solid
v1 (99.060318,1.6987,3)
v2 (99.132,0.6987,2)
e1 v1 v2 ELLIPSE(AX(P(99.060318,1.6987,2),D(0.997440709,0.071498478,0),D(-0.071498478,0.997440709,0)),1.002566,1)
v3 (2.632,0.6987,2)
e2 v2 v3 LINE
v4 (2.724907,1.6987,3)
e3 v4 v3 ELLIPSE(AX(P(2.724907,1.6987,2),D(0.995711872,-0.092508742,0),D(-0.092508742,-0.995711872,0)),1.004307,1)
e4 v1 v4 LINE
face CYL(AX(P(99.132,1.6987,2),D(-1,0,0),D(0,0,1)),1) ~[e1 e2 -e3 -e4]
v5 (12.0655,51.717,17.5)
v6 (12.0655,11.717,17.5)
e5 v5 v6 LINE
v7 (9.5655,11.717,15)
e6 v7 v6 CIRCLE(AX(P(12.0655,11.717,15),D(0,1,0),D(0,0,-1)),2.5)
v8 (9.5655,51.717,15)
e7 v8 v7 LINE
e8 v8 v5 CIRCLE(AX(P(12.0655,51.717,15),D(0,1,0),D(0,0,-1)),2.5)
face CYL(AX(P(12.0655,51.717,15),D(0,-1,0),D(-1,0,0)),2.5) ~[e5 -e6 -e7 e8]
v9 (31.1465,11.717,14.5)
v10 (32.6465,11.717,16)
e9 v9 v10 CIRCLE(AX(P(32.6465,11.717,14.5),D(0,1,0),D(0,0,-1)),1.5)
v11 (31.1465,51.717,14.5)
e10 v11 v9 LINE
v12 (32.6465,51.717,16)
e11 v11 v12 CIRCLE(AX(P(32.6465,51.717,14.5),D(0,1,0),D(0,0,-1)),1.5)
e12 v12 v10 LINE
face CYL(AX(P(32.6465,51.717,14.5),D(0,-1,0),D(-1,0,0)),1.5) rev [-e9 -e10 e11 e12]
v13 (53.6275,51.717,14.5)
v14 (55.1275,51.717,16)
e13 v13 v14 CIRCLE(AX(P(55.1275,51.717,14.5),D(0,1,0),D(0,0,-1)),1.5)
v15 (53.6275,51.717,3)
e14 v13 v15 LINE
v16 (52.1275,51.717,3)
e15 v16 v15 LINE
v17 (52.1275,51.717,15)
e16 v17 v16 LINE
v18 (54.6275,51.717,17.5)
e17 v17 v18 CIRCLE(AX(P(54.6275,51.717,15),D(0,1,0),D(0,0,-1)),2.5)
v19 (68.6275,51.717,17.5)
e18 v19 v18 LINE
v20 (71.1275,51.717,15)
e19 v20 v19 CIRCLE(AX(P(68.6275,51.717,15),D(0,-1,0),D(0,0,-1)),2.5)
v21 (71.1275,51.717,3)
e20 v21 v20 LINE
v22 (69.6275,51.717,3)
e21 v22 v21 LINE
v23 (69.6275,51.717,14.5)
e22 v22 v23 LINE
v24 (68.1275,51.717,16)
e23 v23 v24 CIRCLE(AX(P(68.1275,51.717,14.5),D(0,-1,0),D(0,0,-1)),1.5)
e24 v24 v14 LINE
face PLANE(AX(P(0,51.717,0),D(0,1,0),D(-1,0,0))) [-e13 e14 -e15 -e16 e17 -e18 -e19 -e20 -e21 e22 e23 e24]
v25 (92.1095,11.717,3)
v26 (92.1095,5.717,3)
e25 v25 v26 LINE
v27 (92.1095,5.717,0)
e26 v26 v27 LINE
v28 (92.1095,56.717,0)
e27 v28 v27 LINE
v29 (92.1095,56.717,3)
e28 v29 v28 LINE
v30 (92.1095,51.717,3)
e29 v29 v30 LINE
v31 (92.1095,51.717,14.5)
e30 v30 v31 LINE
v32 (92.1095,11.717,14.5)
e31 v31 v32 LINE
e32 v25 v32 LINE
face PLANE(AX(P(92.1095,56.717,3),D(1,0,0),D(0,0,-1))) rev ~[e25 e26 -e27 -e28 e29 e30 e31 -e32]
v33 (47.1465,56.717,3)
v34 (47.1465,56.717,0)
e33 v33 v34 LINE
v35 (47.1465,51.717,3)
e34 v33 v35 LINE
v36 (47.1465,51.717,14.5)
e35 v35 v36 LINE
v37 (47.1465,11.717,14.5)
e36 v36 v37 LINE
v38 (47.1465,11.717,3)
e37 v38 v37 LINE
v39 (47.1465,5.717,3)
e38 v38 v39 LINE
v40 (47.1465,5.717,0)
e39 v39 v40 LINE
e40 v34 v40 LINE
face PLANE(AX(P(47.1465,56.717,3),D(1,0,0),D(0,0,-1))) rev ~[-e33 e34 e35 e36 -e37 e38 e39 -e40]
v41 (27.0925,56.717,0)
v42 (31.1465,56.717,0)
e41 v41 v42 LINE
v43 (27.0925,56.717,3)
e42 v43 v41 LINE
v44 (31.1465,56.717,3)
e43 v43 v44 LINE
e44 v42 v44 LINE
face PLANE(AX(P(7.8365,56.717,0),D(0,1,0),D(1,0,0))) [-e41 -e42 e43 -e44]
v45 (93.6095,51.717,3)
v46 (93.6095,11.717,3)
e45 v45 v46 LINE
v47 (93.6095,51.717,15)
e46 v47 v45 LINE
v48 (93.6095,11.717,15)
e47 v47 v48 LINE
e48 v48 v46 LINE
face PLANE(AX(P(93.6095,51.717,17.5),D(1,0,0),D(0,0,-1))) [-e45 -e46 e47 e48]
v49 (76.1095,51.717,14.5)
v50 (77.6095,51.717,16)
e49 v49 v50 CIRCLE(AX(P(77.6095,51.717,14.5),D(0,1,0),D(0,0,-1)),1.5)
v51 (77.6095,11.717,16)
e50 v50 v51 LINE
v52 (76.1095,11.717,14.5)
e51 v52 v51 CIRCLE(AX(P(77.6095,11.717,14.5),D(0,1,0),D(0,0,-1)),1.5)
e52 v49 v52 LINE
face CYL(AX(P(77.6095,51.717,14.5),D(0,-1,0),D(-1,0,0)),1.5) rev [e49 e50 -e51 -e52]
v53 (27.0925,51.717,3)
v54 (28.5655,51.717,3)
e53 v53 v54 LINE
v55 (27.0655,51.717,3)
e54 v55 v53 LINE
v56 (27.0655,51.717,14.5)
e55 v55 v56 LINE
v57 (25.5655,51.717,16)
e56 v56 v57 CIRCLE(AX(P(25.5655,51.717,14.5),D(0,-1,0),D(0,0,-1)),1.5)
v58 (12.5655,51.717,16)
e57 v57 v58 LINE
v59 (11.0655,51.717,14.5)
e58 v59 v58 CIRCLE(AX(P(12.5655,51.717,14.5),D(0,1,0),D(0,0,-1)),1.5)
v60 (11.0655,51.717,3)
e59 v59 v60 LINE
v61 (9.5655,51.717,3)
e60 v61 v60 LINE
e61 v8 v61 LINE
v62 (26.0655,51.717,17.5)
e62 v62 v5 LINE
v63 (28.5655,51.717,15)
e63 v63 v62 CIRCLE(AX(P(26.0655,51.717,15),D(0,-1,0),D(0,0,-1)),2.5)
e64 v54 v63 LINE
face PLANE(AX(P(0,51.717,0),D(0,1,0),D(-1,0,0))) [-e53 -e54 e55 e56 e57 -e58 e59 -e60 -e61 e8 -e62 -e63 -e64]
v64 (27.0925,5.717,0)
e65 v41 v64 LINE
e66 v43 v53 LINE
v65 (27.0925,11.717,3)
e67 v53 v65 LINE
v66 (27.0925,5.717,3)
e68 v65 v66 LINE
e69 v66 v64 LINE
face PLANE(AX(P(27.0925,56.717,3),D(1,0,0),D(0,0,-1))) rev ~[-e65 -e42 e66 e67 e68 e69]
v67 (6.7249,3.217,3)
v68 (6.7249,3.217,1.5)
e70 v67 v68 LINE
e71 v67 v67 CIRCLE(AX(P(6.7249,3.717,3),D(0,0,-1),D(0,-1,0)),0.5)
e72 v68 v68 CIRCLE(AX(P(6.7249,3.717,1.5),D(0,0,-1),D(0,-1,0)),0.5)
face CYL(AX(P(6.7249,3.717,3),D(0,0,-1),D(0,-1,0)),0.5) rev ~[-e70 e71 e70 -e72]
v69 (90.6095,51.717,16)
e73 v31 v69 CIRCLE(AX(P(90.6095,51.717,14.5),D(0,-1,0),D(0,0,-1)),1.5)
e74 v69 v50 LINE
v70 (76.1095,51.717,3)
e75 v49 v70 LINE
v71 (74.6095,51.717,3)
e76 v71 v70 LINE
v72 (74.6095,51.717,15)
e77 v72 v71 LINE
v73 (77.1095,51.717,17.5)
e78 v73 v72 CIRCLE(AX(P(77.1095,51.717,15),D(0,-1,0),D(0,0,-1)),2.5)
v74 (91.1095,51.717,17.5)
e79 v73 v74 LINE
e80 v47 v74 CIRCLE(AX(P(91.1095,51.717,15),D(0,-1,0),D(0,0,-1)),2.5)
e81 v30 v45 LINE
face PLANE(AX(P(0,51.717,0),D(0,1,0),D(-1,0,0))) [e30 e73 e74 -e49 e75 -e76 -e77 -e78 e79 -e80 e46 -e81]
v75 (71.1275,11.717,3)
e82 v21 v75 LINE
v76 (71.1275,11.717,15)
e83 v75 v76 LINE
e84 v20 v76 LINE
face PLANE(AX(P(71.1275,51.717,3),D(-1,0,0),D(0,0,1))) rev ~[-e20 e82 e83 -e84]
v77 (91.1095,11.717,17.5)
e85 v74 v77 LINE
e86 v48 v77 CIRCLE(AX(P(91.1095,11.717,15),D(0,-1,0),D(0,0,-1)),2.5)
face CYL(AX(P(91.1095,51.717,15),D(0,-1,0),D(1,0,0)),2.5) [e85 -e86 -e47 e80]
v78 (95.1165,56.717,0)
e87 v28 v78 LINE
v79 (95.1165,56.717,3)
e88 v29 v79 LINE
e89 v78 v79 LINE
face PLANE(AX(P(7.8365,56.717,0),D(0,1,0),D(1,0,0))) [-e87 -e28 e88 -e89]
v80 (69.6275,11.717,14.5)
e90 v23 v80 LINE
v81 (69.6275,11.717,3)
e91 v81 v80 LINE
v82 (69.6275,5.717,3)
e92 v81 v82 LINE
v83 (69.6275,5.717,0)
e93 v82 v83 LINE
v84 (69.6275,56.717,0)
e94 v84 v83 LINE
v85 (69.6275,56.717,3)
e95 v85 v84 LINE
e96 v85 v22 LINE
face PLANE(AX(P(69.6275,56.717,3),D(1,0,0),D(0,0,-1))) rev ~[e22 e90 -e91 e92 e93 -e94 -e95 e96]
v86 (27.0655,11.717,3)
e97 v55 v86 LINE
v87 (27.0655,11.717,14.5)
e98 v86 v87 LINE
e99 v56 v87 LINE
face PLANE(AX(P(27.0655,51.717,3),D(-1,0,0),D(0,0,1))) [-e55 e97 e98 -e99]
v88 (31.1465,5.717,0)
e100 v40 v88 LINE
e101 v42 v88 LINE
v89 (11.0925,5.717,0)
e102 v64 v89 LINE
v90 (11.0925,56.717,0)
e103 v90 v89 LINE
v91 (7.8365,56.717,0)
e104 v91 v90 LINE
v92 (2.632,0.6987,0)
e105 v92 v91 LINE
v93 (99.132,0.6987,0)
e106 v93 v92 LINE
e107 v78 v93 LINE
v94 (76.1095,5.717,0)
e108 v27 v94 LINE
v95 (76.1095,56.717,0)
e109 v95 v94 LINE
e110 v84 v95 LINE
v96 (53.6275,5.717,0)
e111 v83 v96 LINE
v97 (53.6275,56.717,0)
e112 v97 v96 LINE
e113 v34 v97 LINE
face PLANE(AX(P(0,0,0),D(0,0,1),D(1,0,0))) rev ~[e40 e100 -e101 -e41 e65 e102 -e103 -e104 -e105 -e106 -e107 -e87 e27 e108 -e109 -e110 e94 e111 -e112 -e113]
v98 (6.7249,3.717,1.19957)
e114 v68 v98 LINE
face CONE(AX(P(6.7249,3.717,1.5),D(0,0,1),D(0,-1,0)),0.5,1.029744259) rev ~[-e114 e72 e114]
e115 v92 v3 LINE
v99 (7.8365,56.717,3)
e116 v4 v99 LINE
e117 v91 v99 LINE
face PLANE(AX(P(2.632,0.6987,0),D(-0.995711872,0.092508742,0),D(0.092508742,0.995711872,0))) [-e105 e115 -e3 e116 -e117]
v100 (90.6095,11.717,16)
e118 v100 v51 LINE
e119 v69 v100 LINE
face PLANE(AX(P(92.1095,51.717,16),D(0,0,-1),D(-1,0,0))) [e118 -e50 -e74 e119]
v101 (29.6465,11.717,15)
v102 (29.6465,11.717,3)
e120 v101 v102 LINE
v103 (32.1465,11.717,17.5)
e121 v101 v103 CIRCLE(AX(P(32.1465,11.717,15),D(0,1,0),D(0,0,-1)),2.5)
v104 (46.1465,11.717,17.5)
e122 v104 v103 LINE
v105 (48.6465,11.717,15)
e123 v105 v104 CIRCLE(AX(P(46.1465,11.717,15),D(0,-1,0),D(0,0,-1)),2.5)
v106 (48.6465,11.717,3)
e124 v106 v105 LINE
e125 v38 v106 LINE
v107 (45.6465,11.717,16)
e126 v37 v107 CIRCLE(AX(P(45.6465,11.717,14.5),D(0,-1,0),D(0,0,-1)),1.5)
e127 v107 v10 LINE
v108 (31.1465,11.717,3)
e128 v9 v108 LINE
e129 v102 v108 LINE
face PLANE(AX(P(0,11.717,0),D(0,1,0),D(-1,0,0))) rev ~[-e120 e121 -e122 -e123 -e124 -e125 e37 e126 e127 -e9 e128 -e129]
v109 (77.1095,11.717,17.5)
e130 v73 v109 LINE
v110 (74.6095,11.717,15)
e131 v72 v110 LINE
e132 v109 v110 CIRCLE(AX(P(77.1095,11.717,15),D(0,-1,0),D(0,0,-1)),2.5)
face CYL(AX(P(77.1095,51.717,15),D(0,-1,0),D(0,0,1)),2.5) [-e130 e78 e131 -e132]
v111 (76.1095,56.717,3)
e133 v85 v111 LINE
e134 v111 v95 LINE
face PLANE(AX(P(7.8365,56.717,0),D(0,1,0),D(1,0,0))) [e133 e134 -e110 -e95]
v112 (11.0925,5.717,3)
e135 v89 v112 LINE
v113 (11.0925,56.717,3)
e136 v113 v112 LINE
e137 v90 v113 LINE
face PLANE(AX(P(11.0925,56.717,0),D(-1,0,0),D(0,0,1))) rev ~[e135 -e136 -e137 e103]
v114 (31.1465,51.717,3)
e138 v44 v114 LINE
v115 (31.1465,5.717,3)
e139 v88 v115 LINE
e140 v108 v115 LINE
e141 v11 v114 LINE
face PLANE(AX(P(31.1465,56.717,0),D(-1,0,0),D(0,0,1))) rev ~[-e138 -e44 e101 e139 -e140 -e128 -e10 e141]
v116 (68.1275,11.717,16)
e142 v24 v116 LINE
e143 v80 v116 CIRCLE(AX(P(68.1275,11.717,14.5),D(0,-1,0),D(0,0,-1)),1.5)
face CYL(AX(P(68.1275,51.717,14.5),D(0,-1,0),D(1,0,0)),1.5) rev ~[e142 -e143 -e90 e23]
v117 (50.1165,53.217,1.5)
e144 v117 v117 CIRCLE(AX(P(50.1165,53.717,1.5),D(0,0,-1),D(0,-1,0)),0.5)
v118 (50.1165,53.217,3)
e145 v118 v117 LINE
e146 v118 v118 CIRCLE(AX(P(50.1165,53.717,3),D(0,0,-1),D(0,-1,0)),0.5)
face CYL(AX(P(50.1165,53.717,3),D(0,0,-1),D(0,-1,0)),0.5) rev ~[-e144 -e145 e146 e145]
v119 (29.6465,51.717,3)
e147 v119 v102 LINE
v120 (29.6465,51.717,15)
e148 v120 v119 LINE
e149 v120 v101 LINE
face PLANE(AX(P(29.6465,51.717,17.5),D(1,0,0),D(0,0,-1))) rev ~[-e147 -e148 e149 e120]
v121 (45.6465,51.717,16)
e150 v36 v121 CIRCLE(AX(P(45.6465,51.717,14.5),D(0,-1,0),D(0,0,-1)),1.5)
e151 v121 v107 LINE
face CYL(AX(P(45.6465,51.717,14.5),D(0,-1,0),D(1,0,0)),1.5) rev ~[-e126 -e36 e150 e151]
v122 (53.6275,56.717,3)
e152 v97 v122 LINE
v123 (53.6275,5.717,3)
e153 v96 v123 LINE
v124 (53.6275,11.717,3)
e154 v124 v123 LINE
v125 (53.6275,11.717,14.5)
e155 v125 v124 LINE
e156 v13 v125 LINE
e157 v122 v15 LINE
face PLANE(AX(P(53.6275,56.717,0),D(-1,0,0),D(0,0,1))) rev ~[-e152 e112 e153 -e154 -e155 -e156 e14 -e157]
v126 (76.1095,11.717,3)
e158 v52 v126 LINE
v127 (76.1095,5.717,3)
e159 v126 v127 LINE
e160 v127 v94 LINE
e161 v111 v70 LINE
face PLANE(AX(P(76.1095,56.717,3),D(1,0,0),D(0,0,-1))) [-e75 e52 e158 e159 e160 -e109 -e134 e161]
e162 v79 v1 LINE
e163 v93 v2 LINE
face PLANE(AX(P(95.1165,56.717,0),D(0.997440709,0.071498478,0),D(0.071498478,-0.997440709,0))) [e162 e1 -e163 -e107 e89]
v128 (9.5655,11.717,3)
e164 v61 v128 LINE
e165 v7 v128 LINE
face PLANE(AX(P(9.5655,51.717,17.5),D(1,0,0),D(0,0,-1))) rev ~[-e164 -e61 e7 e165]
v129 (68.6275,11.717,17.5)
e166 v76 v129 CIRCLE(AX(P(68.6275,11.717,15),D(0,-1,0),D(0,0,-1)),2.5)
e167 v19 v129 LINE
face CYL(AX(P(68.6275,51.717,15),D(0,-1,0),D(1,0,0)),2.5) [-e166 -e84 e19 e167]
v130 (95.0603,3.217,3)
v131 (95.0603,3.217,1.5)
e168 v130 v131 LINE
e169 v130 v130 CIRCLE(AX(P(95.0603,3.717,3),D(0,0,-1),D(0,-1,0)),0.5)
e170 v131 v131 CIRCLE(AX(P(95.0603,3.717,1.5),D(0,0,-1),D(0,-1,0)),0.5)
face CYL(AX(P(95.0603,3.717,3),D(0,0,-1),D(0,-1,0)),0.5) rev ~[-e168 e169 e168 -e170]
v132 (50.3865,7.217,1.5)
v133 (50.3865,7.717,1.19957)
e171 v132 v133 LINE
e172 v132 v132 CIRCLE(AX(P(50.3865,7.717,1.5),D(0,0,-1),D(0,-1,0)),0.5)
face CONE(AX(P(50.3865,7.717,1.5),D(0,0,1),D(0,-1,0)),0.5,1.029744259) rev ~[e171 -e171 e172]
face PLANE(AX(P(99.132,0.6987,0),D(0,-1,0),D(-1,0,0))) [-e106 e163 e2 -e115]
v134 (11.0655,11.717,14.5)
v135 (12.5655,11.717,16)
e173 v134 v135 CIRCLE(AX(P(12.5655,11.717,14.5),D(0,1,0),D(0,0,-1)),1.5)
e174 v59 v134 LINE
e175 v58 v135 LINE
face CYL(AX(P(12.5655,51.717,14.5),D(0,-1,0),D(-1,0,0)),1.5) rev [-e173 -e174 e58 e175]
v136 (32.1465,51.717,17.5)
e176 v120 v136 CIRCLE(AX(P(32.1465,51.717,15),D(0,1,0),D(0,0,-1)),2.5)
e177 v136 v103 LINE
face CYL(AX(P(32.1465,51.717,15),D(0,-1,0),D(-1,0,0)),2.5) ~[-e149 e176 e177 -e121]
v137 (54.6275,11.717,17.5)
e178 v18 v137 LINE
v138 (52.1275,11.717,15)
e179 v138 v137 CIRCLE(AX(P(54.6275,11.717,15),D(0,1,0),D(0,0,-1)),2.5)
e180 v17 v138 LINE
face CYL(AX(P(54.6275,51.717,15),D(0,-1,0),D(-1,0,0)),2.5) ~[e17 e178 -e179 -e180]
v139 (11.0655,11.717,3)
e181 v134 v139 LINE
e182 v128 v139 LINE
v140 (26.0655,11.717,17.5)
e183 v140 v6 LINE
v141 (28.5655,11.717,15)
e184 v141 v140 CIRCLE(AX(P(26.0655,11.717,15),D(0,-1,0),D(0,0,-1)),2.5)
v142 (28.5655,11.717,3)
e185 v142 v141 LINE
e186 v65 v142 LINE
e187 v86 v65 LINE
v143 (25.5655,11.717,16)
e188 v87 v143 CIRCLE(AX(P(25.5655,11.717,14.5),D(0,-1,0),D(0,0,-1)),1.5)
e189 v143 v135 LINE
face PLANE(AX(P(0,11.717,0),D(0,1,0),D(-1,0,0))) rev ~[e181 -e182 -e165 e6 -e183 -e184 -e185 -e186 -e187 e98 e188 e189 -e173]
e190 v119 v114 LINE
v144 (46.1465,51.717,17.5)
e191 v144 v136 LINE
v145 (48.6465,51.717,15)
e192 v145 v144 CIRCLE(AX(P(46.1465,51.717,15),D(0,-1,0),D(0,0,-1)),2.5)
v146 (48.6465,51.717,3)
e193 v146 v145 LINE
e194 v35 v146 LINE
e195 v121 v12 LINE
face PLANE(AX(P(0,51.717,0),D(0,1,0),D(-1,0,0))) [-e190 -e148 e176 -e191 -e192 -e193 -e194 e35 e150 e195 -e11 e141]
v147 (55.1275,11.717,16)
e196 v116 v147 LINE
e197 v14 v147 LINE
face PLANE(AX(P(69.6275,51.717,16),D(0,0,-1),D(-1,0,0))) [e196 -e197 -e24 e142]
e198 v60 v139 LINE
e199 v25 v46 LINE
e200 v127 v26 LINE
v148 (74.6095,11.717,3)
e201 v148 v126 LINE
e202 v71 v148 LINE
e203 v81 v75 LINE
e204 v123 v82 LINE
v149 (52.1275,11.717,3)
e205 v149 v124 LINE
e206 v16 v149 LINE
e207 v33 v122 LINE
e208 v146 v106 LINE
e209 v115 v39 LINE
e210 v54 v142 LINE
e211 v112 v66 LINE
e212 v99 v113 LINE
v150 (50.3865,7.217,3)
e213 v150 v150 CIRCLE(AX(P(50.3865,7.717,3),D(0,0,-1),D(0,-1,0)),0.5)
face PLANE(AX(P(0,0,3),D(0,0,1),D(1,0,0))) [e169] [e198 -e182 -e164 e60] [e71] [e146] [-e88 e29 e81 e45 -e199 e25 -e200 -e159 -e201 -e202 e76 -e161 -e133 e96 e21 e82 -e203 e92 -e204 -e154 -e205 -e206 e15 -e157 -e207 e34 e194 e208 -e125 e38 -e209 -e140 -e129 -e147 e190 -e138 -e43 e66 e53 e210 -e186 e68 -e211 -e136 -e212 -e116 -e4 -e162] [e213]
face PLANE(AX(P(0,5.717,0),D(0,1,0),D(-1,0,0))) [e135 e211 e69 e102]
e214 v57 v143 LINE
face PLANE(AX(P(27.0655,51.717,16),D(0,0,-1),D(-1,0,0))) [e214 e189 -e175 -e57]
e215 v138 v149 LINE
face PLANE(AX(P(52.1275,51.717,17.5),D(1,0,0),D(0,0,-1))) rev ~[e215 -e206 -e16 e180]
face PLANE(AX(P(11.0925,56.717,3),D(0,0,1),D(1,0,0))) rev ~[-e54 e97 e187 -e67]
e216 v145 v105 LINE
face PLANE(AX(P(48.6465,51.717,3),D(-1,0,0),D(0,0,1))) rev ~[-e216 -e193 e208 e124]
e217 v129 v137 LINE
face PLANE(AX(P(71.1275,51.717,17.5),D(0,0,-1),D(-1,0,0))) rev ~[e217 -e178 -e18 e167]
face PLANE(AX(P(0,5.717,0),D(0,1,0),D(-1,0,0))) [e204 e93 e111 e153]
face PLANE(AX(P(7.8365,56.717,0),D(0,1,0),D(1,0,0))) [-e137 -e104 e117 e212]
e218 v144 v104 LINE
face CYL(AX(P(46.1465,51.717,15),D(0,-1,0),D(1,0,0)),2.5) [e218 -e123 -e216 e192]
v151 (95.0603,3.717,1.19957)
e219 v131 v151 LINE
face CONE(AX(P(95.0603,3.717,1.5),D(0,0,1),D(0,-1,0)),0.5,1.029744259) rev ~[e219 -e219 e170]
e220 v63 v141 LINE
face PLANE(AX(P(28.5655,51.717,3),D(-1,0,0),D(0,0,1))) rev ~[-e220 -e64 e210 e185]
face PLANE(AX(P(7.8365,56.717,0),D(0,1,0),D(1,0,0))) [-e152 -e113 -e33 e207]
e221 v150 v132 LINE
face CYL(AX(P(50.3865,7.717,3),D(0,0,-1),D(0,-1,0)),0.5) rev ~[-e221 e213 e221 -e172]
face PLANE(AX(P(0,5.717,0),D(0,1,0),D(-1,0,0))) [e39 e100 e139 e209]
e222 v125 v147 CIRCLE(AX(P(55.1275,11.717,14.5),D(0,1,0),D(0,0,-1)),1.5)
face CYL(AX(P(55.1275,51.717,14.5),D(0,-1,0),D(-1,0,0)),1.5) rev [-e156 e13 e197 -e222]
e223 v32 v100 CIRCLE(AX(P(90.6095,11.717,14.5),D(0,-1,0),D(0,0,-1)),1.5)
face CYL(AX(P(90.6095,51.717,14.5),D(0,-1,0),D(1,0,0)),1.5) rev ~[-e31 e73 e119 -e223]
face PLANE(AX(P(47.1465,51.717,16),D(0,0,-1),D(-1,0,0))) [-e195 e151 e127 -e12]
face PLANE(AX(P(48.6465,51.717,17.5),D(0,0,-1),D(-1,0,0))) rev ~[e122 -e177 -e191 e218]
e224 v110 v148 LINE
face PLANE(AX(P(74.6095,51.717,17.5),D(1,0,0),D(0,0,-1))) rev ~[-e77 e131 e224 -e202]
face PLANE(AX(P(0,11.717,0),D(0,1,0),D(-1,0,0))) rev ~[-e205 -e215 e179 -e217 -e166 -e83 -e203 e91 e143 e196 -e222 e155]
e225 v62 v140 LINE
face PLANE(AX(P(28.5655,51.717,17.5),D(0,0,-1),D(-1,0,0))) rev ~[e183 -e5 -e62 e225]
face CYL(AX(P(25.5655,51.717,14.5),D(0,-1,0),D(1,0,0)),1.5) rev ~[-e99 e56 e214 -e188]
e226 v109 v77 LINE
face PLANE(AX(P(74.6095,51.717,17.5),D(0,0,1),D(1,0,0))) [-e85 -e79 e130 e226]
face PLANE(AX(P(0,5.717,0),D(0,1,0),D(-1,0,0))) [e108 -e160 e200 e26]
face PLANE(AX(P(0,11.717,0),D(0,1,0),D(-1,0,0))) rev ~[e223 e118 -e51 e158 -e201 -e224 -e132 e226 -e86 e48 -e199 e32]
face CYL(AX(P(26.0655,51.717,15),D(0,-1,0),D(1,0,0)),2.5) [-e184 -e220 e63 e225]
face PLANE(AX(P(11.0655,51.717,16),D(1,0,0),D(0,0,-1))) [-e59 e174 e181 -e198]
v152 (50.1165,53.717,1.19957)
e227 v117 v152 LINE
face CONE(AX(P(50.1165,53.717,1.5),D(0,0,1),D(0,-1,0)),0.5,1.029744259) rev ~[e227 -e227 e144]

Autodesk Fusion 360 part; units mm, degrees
sketch "Sketch1" plane through (0, 0, 0) normal (0, 0, 1) x (1, 0, 0)
  line L0 (7.8365, 56.717) -> (95.1165, 56.717)
  line L1 (95.1165, 56.717) -> (99.132, 0.6987)
  line L2 (99.132, 0.6987) -> (2.632, 0.6987)
  line L3 (2.632, 0.6987) -> (7.8365, 56.717)
  dimension "d1" = 87.28
  dimension "d2" = 96.5
  dimension "d3" = 95.308
  dimension "d4" = 94.1
extrude "Extrude1" add sketch "Sketch1" along normal blind 3
sketch "Sketch2" plane through (0, 56.717, 0) normal (0, 1, 0) x (-1, 0, 0)
  line L0 (-95.1165, 0) -> (-7.8365, 0)
  line L1 (-7.8365, 0) -> (-7.8365, 3)
  line L2 (-7.8365, 3) -> (-95.1165, 3)
  line L3 (-95.1165, 3) -> (-95.1165, 0)
  line L4 (-92.1095, 3) -> (-92.1095, 16)
  line L5 (-92.1095, 16) -> (-76.1095, 16)
  line L6 (-76.1095, 16) -> (-76.1095, 3)
  line L7 (-69.6275, 3) -> (-69.6275, 16)
  line L8 (-69.6275, 16) -> (-53.6275, 16)
  line L9 (-53.6275, 16) -> (-53.6275, 3)
  line L10 (-47.1465, 3) -> (-47.1465, 16)
  line L11 (-47.1465, 16) -> (-31.1465, 16)
  line L12 (-31.1465, 16) -> (-31.1465, 3)
  line L13 (-27.0655, 3) -> (-27.0655, 16)
  line L14 (-27.0655, 16) -> (-11.0655, 16)
  line L15 (-11.0655, 16) -> (-11.0655, 3)
  line L16 (-74.6095, 17.5) -> (-74.6095, 3)
  line L17 (-71.1275, 3) -> (-71.1275, 17.5)
  line L18 (-48.6465, 3) -> (-48.6465, 17.5)
  line L19 (-48.6465, 17.5) -> (-29.6465, 17.5)
  line L20 (-29.6465, 17.5) -> (-29.6465, 3)
  line L21 (-28.5655, 3) -> (-28.5655, 17.5)
  line L22 (-28.5655, 17.5) -> (-9.5655, 17.5)
  line L23 (-9.5655, 17.5) -> (-9.5655, 3)
  line L24 (-74.6095, 17.5) -> (-93.6095, 17.5)
  line L25 (-93.6095, 17.5) -> (-93.6095, 3)
  line L26 (-71.1275, 17.5) -> (-52.1275, 17.5)
  line L27 (-52.1275, 17.5) -> (-52.1275, 3)
  dimension "d7" = 3.007
  dimension "d11" = 16
  dimension "d12" = 6.482
  dimension "d13" = 16
  dimension "d14" = 6.481
  dimension "d15" = 16
  dimension "d16" = 4.081
  dimension "d17" = 16
  dimension "d18" = 13
  dimension "d19" = 13
  dimension "d20" = 13
  dimension "d21" = 13
  dimension "d23" = 1.5
  dimension "d24" = 1.5
  dimension "d25" = 1.5
  dimension "d26" = 1.5
  dimension "d28" = 1.5
  dimension "d29" = 1.5
  dimension "d30" = 1.5
  dimension "d31" = 1.5
  dimension "d32" = 1.5
  dimension "d33" = 1.5
  dimension "d34" = 1.5
  dimension "d35" = 1.5
extrude "Extrude2" add sketch "Sketch2" against normal blind 40 from surface at -5 contours L2 L4 L5 L6 L16 L24 L25 | L2 L13 L14 L15 L21 L22 L23 | L2 L7 L8 L9 L17 L26 L27 | L2 L10 L11 L12 L18 L19 L20
sketch "Sketch3" plane through (0, 56.717, 0) normal (0, 1, 0) x (-1, 0, 0)
  line L0 (-95.1165, 0) -> (-7.8365, 0)
  line L1 (-7.8365, 0) -> (-7.8365, 3)
  line L2 (-7.8365, 3) -> (-95.1165, 3)
  line L3 (-95.1165, 3) -> (-95.1165, 0)
  line L4 (-92.1095, 3) -> (-76.1095, 3)
  line L5 (-76.1095, 0) -> (-92.1095, 0)
  line L6 (-92.1095, 3) -> (-92.1095, 0)
  line L7 (-76.1095, 3) -> (-76.1095, 0)
  line L8 (-69.6275, 3) -> (-69.6275, 0)
  line L9 (-69.6275, 3) -> (-53.6275, 3)
  line L10 (-53.6275, 0) -> (-53.6275, 3)
  line L11 (-53.6275, 0) -> (-69.6275, 0)
  line L12 (-47.1465, 3) -> (-47.1465, 0)
  line L13 (-47.1465, 3) -> (-31.1465, 3)
  line L14 (-31.1465, 0) -> (-31.1465, 3)
  line L15 (-31.1465, 0) -> (-47.1465, 0)
  line L16 (-27.0925, 3) -> (-11.0925, 3)
  line L17 (-11.0925, 0) -> (-11.0925, 3)
  line L18 (-11.0925, 0) -> (-27.0925, 0)
  line L19 (-27.0925, 3) -> (-27.0925, 0)
  dimension "d39" = 16
  dimension "d40" = 16
  dimension "d41" = 16
  dimension "d42" = 16
  dimension "d43" = 3.007
  dimension "d44" = 6.482
  dimension "d45" = 6.481
  dimension "d46" = 4.054
extrude "Extrude3" cut sketch "Sketch3" against normal blind 51 contours L0 L2 L4 L5 L6 L7 | L0 L2 L8 L9 L10 L11 | L0 L2 L12 L13 L14 L15 | L0 L2 L16 L17 L18 L19
fillet "Fillet1" radius 2.5 1 edges at (93.6095, 31.717, 17.5)
fillet "Fillet2" radius 2.5 7 edges at (74.6095, 31.717, 17.5) (71.1275, 31.717, 17.5) (52.1275, 31.717, 17.5) (48.6465, 31.717, 17.5) (29.6465, 31.717, 17.5) (9.5655, 31.717, 17.5) (28.5655, 31.717, 17.5)
fillet "Fillet3" radius 1 1 edges at (50.882, 0.6987, 3)
fillet "Fillet4" radius 1.5 2 edges at (27.0655, 31.717, 16) (11.0655, 31.717, 16)
fillet "Fillet4" radius 1.5 6 edges at (31.1465, 31.717, 16) (53.6275, 31.717, 16) (76.1095, 31.717, 16) (47.1465, 31.717, 16) (69.6275, 31.717, 16) (92.1095, 31.717, 16)
sketch "Sketch4" plane through (0, 0, 3) normal (0, 0, 1) x (-1, 0, 0)
  line L0 (-9.5655, -11.717) -> (-9.5655, -51.717)
  line L1 (-9.5655, -51.717) -> (-11.0655, -51.717)
  line L2 (-11.0655, -51.717) -> (-11.0655, -11.717)
  line L3 (-11.0655, -11.717) -> (-9.5655, -11.717)
  line L4 (-2.7249, -1.6987) -> (-99.0603, -1.6987)
  line L5 (-99.0603, -1.6987) -> (-95.1165, -56.717)
  line L6 (-95.1165, -56.717) -> (-92.1095, -56.717)
  line L7 (-92.1095, -56.717) -> (-92.1095, -51.717)
  line L8 (-92.1095, -51.717) -> (-93.6095, -51.717)
  line L9 (-93.6095, -51.717) -> (-93.6095, -11.717)
  line L10 (-93.6095, -11.717) -> (-92.1095, -11.717)
  line L11 (-92.1095, -11.717) -> (-92.1095, -5.717)
  line L12 (-92.1095, -5.717) -> (-76.1095, -5.717)
  line L13 (-76.1095, -5.717) -> (-76.1095, -11.717)
  line L14 (-76.1095, -11.717) -> (-74.6095, -11.717)
  line L15 (-74.6095, -11.717) -> (-74.6095, -51.717)
  line L16 (-74.6095, -51.717) -> (-76.1095, -51.717)
  line L17 (-76.1095, -51.717) -> (-76.1095, -56.717)
  line L18 (-76.1095, -56.717) -> (-69.6275, -56.717)
  line L19 (-69.6275, -56.717) -> (-69.6275, -51.717)
  line L20 (-69.6275, -51.717) -> (-71.1275, -51.717)
  line L21 (-71.1275, -51.717) -> (-71.1275, -11.717)
  line L22 (-71.1275, -11.717) -> (-69.6275, -11.717)
  line L23 (-69.6275, -11.717) -> (-69.6275, -5.717)
  line L24 (-69.6275, -5.717) -> (-53.6275, -5.717)
  line L25 (-53.6275, -5.717) -> (-53.6275, -11.717)
  line L26 (-53.6275, -11.717) -> (-52.1275, -11.717)
  line L27 (-52.1275, -11.717) -> (-52.1275, -51.717)
  line L28 (-52.1275, -51.717) -> (-53.6275, -51.717)
  line L29 (-53.6275, -51.717) -> (-53.6275, -56.717)
  line L30 (-53.6275, -56.717) -> (-47.1465, -56.717)
  line L31 (-47.1465, -56.717) -> (-47.1465, -51.717)
  line L32 (-47.1465, -51.717) -> (-48.6465, -51.717)
  line L33 (-48.6465, -51.717) -> (-48.6465, -11.717)
  line L34 (-48.6465, -11.717) -> (-47.1465, -11.717)
  line L35 (-47.1465, -11.717) -> (-47.1465, -5.717)
  line L36 (-47.1465, -5.717) -> (-31.1465, -5.717)
  line L37 (-31.1465, -5.717) -> (-31.1465, -11.717)
  line L38 (-31.1465, -11.717) -> (-29.6465, -11.717)
  line L39 (-29.6465, -11.717) -> (-29.6465, -51.717)
  line L40 (-29.6465, -51.717) -> (-31.1465, -51.717)
  line L41 (-31.1465, -51.717) -> (-31.1465, -56.717)
  line L42 (-31.1465, -56.717) -> (-27.0925, -56.717)
  line L43 (-27.0925, -56.717) -> (-27.0925, -51.717)
  line L44 (-27.0925, -51.717) -> (-28.5655, -51.717)
  line L45 (-28.5655, -51.717) -> (-28.5655, -11.717)
  line L46 (-28.5655, -11.717) -> (-27.0925, -11.717)
  line L47 (-27.0925, -11.717) -> (-27.0925, -5.717)
  line L48 (-27.0925, -5.717) -> (-11.0925, -5.717)
  line L49 (-11.0925, -5.717) -> (-11.0925, -56.717)
  line L50 (-11.0925, -56.717) -> (-7.8365, -56.717)
  line L51 (-7.8365, -56.717) -> (-2.7249, -1.6987)
  circle A0 centre (-50.1165, -53.717) radius 0.6186
  circle A1 centre (-6.7249, -3.717) radius 0.5
  circle A2 centre (-95.0603, -3.717) radius 0.5
  circle A3 centre (-50.3865, -7.717) radius 0.5
  dimension "d59" = 3
  dimension "d60" = 3.511
  dimension "d61" = 1
  dimension "d63" = 2
  dimension "d64" = 4
  dimension "d65" = 1
  dimension "d66" = 4
  dimension "d67" = 2
  dimension "d68" = 1
  dimension "d69" = 3.24
  dimension "d70" = 2
hole "Hole1" at (50.1165, 53.717, 3) at (6.7249, 3.717, 3) at (50.3865, 7.717, 3) at (95.0603, 3.717, 3) direction (0, 0, -1) diameter 1 depth 1.5 tip angle 118
